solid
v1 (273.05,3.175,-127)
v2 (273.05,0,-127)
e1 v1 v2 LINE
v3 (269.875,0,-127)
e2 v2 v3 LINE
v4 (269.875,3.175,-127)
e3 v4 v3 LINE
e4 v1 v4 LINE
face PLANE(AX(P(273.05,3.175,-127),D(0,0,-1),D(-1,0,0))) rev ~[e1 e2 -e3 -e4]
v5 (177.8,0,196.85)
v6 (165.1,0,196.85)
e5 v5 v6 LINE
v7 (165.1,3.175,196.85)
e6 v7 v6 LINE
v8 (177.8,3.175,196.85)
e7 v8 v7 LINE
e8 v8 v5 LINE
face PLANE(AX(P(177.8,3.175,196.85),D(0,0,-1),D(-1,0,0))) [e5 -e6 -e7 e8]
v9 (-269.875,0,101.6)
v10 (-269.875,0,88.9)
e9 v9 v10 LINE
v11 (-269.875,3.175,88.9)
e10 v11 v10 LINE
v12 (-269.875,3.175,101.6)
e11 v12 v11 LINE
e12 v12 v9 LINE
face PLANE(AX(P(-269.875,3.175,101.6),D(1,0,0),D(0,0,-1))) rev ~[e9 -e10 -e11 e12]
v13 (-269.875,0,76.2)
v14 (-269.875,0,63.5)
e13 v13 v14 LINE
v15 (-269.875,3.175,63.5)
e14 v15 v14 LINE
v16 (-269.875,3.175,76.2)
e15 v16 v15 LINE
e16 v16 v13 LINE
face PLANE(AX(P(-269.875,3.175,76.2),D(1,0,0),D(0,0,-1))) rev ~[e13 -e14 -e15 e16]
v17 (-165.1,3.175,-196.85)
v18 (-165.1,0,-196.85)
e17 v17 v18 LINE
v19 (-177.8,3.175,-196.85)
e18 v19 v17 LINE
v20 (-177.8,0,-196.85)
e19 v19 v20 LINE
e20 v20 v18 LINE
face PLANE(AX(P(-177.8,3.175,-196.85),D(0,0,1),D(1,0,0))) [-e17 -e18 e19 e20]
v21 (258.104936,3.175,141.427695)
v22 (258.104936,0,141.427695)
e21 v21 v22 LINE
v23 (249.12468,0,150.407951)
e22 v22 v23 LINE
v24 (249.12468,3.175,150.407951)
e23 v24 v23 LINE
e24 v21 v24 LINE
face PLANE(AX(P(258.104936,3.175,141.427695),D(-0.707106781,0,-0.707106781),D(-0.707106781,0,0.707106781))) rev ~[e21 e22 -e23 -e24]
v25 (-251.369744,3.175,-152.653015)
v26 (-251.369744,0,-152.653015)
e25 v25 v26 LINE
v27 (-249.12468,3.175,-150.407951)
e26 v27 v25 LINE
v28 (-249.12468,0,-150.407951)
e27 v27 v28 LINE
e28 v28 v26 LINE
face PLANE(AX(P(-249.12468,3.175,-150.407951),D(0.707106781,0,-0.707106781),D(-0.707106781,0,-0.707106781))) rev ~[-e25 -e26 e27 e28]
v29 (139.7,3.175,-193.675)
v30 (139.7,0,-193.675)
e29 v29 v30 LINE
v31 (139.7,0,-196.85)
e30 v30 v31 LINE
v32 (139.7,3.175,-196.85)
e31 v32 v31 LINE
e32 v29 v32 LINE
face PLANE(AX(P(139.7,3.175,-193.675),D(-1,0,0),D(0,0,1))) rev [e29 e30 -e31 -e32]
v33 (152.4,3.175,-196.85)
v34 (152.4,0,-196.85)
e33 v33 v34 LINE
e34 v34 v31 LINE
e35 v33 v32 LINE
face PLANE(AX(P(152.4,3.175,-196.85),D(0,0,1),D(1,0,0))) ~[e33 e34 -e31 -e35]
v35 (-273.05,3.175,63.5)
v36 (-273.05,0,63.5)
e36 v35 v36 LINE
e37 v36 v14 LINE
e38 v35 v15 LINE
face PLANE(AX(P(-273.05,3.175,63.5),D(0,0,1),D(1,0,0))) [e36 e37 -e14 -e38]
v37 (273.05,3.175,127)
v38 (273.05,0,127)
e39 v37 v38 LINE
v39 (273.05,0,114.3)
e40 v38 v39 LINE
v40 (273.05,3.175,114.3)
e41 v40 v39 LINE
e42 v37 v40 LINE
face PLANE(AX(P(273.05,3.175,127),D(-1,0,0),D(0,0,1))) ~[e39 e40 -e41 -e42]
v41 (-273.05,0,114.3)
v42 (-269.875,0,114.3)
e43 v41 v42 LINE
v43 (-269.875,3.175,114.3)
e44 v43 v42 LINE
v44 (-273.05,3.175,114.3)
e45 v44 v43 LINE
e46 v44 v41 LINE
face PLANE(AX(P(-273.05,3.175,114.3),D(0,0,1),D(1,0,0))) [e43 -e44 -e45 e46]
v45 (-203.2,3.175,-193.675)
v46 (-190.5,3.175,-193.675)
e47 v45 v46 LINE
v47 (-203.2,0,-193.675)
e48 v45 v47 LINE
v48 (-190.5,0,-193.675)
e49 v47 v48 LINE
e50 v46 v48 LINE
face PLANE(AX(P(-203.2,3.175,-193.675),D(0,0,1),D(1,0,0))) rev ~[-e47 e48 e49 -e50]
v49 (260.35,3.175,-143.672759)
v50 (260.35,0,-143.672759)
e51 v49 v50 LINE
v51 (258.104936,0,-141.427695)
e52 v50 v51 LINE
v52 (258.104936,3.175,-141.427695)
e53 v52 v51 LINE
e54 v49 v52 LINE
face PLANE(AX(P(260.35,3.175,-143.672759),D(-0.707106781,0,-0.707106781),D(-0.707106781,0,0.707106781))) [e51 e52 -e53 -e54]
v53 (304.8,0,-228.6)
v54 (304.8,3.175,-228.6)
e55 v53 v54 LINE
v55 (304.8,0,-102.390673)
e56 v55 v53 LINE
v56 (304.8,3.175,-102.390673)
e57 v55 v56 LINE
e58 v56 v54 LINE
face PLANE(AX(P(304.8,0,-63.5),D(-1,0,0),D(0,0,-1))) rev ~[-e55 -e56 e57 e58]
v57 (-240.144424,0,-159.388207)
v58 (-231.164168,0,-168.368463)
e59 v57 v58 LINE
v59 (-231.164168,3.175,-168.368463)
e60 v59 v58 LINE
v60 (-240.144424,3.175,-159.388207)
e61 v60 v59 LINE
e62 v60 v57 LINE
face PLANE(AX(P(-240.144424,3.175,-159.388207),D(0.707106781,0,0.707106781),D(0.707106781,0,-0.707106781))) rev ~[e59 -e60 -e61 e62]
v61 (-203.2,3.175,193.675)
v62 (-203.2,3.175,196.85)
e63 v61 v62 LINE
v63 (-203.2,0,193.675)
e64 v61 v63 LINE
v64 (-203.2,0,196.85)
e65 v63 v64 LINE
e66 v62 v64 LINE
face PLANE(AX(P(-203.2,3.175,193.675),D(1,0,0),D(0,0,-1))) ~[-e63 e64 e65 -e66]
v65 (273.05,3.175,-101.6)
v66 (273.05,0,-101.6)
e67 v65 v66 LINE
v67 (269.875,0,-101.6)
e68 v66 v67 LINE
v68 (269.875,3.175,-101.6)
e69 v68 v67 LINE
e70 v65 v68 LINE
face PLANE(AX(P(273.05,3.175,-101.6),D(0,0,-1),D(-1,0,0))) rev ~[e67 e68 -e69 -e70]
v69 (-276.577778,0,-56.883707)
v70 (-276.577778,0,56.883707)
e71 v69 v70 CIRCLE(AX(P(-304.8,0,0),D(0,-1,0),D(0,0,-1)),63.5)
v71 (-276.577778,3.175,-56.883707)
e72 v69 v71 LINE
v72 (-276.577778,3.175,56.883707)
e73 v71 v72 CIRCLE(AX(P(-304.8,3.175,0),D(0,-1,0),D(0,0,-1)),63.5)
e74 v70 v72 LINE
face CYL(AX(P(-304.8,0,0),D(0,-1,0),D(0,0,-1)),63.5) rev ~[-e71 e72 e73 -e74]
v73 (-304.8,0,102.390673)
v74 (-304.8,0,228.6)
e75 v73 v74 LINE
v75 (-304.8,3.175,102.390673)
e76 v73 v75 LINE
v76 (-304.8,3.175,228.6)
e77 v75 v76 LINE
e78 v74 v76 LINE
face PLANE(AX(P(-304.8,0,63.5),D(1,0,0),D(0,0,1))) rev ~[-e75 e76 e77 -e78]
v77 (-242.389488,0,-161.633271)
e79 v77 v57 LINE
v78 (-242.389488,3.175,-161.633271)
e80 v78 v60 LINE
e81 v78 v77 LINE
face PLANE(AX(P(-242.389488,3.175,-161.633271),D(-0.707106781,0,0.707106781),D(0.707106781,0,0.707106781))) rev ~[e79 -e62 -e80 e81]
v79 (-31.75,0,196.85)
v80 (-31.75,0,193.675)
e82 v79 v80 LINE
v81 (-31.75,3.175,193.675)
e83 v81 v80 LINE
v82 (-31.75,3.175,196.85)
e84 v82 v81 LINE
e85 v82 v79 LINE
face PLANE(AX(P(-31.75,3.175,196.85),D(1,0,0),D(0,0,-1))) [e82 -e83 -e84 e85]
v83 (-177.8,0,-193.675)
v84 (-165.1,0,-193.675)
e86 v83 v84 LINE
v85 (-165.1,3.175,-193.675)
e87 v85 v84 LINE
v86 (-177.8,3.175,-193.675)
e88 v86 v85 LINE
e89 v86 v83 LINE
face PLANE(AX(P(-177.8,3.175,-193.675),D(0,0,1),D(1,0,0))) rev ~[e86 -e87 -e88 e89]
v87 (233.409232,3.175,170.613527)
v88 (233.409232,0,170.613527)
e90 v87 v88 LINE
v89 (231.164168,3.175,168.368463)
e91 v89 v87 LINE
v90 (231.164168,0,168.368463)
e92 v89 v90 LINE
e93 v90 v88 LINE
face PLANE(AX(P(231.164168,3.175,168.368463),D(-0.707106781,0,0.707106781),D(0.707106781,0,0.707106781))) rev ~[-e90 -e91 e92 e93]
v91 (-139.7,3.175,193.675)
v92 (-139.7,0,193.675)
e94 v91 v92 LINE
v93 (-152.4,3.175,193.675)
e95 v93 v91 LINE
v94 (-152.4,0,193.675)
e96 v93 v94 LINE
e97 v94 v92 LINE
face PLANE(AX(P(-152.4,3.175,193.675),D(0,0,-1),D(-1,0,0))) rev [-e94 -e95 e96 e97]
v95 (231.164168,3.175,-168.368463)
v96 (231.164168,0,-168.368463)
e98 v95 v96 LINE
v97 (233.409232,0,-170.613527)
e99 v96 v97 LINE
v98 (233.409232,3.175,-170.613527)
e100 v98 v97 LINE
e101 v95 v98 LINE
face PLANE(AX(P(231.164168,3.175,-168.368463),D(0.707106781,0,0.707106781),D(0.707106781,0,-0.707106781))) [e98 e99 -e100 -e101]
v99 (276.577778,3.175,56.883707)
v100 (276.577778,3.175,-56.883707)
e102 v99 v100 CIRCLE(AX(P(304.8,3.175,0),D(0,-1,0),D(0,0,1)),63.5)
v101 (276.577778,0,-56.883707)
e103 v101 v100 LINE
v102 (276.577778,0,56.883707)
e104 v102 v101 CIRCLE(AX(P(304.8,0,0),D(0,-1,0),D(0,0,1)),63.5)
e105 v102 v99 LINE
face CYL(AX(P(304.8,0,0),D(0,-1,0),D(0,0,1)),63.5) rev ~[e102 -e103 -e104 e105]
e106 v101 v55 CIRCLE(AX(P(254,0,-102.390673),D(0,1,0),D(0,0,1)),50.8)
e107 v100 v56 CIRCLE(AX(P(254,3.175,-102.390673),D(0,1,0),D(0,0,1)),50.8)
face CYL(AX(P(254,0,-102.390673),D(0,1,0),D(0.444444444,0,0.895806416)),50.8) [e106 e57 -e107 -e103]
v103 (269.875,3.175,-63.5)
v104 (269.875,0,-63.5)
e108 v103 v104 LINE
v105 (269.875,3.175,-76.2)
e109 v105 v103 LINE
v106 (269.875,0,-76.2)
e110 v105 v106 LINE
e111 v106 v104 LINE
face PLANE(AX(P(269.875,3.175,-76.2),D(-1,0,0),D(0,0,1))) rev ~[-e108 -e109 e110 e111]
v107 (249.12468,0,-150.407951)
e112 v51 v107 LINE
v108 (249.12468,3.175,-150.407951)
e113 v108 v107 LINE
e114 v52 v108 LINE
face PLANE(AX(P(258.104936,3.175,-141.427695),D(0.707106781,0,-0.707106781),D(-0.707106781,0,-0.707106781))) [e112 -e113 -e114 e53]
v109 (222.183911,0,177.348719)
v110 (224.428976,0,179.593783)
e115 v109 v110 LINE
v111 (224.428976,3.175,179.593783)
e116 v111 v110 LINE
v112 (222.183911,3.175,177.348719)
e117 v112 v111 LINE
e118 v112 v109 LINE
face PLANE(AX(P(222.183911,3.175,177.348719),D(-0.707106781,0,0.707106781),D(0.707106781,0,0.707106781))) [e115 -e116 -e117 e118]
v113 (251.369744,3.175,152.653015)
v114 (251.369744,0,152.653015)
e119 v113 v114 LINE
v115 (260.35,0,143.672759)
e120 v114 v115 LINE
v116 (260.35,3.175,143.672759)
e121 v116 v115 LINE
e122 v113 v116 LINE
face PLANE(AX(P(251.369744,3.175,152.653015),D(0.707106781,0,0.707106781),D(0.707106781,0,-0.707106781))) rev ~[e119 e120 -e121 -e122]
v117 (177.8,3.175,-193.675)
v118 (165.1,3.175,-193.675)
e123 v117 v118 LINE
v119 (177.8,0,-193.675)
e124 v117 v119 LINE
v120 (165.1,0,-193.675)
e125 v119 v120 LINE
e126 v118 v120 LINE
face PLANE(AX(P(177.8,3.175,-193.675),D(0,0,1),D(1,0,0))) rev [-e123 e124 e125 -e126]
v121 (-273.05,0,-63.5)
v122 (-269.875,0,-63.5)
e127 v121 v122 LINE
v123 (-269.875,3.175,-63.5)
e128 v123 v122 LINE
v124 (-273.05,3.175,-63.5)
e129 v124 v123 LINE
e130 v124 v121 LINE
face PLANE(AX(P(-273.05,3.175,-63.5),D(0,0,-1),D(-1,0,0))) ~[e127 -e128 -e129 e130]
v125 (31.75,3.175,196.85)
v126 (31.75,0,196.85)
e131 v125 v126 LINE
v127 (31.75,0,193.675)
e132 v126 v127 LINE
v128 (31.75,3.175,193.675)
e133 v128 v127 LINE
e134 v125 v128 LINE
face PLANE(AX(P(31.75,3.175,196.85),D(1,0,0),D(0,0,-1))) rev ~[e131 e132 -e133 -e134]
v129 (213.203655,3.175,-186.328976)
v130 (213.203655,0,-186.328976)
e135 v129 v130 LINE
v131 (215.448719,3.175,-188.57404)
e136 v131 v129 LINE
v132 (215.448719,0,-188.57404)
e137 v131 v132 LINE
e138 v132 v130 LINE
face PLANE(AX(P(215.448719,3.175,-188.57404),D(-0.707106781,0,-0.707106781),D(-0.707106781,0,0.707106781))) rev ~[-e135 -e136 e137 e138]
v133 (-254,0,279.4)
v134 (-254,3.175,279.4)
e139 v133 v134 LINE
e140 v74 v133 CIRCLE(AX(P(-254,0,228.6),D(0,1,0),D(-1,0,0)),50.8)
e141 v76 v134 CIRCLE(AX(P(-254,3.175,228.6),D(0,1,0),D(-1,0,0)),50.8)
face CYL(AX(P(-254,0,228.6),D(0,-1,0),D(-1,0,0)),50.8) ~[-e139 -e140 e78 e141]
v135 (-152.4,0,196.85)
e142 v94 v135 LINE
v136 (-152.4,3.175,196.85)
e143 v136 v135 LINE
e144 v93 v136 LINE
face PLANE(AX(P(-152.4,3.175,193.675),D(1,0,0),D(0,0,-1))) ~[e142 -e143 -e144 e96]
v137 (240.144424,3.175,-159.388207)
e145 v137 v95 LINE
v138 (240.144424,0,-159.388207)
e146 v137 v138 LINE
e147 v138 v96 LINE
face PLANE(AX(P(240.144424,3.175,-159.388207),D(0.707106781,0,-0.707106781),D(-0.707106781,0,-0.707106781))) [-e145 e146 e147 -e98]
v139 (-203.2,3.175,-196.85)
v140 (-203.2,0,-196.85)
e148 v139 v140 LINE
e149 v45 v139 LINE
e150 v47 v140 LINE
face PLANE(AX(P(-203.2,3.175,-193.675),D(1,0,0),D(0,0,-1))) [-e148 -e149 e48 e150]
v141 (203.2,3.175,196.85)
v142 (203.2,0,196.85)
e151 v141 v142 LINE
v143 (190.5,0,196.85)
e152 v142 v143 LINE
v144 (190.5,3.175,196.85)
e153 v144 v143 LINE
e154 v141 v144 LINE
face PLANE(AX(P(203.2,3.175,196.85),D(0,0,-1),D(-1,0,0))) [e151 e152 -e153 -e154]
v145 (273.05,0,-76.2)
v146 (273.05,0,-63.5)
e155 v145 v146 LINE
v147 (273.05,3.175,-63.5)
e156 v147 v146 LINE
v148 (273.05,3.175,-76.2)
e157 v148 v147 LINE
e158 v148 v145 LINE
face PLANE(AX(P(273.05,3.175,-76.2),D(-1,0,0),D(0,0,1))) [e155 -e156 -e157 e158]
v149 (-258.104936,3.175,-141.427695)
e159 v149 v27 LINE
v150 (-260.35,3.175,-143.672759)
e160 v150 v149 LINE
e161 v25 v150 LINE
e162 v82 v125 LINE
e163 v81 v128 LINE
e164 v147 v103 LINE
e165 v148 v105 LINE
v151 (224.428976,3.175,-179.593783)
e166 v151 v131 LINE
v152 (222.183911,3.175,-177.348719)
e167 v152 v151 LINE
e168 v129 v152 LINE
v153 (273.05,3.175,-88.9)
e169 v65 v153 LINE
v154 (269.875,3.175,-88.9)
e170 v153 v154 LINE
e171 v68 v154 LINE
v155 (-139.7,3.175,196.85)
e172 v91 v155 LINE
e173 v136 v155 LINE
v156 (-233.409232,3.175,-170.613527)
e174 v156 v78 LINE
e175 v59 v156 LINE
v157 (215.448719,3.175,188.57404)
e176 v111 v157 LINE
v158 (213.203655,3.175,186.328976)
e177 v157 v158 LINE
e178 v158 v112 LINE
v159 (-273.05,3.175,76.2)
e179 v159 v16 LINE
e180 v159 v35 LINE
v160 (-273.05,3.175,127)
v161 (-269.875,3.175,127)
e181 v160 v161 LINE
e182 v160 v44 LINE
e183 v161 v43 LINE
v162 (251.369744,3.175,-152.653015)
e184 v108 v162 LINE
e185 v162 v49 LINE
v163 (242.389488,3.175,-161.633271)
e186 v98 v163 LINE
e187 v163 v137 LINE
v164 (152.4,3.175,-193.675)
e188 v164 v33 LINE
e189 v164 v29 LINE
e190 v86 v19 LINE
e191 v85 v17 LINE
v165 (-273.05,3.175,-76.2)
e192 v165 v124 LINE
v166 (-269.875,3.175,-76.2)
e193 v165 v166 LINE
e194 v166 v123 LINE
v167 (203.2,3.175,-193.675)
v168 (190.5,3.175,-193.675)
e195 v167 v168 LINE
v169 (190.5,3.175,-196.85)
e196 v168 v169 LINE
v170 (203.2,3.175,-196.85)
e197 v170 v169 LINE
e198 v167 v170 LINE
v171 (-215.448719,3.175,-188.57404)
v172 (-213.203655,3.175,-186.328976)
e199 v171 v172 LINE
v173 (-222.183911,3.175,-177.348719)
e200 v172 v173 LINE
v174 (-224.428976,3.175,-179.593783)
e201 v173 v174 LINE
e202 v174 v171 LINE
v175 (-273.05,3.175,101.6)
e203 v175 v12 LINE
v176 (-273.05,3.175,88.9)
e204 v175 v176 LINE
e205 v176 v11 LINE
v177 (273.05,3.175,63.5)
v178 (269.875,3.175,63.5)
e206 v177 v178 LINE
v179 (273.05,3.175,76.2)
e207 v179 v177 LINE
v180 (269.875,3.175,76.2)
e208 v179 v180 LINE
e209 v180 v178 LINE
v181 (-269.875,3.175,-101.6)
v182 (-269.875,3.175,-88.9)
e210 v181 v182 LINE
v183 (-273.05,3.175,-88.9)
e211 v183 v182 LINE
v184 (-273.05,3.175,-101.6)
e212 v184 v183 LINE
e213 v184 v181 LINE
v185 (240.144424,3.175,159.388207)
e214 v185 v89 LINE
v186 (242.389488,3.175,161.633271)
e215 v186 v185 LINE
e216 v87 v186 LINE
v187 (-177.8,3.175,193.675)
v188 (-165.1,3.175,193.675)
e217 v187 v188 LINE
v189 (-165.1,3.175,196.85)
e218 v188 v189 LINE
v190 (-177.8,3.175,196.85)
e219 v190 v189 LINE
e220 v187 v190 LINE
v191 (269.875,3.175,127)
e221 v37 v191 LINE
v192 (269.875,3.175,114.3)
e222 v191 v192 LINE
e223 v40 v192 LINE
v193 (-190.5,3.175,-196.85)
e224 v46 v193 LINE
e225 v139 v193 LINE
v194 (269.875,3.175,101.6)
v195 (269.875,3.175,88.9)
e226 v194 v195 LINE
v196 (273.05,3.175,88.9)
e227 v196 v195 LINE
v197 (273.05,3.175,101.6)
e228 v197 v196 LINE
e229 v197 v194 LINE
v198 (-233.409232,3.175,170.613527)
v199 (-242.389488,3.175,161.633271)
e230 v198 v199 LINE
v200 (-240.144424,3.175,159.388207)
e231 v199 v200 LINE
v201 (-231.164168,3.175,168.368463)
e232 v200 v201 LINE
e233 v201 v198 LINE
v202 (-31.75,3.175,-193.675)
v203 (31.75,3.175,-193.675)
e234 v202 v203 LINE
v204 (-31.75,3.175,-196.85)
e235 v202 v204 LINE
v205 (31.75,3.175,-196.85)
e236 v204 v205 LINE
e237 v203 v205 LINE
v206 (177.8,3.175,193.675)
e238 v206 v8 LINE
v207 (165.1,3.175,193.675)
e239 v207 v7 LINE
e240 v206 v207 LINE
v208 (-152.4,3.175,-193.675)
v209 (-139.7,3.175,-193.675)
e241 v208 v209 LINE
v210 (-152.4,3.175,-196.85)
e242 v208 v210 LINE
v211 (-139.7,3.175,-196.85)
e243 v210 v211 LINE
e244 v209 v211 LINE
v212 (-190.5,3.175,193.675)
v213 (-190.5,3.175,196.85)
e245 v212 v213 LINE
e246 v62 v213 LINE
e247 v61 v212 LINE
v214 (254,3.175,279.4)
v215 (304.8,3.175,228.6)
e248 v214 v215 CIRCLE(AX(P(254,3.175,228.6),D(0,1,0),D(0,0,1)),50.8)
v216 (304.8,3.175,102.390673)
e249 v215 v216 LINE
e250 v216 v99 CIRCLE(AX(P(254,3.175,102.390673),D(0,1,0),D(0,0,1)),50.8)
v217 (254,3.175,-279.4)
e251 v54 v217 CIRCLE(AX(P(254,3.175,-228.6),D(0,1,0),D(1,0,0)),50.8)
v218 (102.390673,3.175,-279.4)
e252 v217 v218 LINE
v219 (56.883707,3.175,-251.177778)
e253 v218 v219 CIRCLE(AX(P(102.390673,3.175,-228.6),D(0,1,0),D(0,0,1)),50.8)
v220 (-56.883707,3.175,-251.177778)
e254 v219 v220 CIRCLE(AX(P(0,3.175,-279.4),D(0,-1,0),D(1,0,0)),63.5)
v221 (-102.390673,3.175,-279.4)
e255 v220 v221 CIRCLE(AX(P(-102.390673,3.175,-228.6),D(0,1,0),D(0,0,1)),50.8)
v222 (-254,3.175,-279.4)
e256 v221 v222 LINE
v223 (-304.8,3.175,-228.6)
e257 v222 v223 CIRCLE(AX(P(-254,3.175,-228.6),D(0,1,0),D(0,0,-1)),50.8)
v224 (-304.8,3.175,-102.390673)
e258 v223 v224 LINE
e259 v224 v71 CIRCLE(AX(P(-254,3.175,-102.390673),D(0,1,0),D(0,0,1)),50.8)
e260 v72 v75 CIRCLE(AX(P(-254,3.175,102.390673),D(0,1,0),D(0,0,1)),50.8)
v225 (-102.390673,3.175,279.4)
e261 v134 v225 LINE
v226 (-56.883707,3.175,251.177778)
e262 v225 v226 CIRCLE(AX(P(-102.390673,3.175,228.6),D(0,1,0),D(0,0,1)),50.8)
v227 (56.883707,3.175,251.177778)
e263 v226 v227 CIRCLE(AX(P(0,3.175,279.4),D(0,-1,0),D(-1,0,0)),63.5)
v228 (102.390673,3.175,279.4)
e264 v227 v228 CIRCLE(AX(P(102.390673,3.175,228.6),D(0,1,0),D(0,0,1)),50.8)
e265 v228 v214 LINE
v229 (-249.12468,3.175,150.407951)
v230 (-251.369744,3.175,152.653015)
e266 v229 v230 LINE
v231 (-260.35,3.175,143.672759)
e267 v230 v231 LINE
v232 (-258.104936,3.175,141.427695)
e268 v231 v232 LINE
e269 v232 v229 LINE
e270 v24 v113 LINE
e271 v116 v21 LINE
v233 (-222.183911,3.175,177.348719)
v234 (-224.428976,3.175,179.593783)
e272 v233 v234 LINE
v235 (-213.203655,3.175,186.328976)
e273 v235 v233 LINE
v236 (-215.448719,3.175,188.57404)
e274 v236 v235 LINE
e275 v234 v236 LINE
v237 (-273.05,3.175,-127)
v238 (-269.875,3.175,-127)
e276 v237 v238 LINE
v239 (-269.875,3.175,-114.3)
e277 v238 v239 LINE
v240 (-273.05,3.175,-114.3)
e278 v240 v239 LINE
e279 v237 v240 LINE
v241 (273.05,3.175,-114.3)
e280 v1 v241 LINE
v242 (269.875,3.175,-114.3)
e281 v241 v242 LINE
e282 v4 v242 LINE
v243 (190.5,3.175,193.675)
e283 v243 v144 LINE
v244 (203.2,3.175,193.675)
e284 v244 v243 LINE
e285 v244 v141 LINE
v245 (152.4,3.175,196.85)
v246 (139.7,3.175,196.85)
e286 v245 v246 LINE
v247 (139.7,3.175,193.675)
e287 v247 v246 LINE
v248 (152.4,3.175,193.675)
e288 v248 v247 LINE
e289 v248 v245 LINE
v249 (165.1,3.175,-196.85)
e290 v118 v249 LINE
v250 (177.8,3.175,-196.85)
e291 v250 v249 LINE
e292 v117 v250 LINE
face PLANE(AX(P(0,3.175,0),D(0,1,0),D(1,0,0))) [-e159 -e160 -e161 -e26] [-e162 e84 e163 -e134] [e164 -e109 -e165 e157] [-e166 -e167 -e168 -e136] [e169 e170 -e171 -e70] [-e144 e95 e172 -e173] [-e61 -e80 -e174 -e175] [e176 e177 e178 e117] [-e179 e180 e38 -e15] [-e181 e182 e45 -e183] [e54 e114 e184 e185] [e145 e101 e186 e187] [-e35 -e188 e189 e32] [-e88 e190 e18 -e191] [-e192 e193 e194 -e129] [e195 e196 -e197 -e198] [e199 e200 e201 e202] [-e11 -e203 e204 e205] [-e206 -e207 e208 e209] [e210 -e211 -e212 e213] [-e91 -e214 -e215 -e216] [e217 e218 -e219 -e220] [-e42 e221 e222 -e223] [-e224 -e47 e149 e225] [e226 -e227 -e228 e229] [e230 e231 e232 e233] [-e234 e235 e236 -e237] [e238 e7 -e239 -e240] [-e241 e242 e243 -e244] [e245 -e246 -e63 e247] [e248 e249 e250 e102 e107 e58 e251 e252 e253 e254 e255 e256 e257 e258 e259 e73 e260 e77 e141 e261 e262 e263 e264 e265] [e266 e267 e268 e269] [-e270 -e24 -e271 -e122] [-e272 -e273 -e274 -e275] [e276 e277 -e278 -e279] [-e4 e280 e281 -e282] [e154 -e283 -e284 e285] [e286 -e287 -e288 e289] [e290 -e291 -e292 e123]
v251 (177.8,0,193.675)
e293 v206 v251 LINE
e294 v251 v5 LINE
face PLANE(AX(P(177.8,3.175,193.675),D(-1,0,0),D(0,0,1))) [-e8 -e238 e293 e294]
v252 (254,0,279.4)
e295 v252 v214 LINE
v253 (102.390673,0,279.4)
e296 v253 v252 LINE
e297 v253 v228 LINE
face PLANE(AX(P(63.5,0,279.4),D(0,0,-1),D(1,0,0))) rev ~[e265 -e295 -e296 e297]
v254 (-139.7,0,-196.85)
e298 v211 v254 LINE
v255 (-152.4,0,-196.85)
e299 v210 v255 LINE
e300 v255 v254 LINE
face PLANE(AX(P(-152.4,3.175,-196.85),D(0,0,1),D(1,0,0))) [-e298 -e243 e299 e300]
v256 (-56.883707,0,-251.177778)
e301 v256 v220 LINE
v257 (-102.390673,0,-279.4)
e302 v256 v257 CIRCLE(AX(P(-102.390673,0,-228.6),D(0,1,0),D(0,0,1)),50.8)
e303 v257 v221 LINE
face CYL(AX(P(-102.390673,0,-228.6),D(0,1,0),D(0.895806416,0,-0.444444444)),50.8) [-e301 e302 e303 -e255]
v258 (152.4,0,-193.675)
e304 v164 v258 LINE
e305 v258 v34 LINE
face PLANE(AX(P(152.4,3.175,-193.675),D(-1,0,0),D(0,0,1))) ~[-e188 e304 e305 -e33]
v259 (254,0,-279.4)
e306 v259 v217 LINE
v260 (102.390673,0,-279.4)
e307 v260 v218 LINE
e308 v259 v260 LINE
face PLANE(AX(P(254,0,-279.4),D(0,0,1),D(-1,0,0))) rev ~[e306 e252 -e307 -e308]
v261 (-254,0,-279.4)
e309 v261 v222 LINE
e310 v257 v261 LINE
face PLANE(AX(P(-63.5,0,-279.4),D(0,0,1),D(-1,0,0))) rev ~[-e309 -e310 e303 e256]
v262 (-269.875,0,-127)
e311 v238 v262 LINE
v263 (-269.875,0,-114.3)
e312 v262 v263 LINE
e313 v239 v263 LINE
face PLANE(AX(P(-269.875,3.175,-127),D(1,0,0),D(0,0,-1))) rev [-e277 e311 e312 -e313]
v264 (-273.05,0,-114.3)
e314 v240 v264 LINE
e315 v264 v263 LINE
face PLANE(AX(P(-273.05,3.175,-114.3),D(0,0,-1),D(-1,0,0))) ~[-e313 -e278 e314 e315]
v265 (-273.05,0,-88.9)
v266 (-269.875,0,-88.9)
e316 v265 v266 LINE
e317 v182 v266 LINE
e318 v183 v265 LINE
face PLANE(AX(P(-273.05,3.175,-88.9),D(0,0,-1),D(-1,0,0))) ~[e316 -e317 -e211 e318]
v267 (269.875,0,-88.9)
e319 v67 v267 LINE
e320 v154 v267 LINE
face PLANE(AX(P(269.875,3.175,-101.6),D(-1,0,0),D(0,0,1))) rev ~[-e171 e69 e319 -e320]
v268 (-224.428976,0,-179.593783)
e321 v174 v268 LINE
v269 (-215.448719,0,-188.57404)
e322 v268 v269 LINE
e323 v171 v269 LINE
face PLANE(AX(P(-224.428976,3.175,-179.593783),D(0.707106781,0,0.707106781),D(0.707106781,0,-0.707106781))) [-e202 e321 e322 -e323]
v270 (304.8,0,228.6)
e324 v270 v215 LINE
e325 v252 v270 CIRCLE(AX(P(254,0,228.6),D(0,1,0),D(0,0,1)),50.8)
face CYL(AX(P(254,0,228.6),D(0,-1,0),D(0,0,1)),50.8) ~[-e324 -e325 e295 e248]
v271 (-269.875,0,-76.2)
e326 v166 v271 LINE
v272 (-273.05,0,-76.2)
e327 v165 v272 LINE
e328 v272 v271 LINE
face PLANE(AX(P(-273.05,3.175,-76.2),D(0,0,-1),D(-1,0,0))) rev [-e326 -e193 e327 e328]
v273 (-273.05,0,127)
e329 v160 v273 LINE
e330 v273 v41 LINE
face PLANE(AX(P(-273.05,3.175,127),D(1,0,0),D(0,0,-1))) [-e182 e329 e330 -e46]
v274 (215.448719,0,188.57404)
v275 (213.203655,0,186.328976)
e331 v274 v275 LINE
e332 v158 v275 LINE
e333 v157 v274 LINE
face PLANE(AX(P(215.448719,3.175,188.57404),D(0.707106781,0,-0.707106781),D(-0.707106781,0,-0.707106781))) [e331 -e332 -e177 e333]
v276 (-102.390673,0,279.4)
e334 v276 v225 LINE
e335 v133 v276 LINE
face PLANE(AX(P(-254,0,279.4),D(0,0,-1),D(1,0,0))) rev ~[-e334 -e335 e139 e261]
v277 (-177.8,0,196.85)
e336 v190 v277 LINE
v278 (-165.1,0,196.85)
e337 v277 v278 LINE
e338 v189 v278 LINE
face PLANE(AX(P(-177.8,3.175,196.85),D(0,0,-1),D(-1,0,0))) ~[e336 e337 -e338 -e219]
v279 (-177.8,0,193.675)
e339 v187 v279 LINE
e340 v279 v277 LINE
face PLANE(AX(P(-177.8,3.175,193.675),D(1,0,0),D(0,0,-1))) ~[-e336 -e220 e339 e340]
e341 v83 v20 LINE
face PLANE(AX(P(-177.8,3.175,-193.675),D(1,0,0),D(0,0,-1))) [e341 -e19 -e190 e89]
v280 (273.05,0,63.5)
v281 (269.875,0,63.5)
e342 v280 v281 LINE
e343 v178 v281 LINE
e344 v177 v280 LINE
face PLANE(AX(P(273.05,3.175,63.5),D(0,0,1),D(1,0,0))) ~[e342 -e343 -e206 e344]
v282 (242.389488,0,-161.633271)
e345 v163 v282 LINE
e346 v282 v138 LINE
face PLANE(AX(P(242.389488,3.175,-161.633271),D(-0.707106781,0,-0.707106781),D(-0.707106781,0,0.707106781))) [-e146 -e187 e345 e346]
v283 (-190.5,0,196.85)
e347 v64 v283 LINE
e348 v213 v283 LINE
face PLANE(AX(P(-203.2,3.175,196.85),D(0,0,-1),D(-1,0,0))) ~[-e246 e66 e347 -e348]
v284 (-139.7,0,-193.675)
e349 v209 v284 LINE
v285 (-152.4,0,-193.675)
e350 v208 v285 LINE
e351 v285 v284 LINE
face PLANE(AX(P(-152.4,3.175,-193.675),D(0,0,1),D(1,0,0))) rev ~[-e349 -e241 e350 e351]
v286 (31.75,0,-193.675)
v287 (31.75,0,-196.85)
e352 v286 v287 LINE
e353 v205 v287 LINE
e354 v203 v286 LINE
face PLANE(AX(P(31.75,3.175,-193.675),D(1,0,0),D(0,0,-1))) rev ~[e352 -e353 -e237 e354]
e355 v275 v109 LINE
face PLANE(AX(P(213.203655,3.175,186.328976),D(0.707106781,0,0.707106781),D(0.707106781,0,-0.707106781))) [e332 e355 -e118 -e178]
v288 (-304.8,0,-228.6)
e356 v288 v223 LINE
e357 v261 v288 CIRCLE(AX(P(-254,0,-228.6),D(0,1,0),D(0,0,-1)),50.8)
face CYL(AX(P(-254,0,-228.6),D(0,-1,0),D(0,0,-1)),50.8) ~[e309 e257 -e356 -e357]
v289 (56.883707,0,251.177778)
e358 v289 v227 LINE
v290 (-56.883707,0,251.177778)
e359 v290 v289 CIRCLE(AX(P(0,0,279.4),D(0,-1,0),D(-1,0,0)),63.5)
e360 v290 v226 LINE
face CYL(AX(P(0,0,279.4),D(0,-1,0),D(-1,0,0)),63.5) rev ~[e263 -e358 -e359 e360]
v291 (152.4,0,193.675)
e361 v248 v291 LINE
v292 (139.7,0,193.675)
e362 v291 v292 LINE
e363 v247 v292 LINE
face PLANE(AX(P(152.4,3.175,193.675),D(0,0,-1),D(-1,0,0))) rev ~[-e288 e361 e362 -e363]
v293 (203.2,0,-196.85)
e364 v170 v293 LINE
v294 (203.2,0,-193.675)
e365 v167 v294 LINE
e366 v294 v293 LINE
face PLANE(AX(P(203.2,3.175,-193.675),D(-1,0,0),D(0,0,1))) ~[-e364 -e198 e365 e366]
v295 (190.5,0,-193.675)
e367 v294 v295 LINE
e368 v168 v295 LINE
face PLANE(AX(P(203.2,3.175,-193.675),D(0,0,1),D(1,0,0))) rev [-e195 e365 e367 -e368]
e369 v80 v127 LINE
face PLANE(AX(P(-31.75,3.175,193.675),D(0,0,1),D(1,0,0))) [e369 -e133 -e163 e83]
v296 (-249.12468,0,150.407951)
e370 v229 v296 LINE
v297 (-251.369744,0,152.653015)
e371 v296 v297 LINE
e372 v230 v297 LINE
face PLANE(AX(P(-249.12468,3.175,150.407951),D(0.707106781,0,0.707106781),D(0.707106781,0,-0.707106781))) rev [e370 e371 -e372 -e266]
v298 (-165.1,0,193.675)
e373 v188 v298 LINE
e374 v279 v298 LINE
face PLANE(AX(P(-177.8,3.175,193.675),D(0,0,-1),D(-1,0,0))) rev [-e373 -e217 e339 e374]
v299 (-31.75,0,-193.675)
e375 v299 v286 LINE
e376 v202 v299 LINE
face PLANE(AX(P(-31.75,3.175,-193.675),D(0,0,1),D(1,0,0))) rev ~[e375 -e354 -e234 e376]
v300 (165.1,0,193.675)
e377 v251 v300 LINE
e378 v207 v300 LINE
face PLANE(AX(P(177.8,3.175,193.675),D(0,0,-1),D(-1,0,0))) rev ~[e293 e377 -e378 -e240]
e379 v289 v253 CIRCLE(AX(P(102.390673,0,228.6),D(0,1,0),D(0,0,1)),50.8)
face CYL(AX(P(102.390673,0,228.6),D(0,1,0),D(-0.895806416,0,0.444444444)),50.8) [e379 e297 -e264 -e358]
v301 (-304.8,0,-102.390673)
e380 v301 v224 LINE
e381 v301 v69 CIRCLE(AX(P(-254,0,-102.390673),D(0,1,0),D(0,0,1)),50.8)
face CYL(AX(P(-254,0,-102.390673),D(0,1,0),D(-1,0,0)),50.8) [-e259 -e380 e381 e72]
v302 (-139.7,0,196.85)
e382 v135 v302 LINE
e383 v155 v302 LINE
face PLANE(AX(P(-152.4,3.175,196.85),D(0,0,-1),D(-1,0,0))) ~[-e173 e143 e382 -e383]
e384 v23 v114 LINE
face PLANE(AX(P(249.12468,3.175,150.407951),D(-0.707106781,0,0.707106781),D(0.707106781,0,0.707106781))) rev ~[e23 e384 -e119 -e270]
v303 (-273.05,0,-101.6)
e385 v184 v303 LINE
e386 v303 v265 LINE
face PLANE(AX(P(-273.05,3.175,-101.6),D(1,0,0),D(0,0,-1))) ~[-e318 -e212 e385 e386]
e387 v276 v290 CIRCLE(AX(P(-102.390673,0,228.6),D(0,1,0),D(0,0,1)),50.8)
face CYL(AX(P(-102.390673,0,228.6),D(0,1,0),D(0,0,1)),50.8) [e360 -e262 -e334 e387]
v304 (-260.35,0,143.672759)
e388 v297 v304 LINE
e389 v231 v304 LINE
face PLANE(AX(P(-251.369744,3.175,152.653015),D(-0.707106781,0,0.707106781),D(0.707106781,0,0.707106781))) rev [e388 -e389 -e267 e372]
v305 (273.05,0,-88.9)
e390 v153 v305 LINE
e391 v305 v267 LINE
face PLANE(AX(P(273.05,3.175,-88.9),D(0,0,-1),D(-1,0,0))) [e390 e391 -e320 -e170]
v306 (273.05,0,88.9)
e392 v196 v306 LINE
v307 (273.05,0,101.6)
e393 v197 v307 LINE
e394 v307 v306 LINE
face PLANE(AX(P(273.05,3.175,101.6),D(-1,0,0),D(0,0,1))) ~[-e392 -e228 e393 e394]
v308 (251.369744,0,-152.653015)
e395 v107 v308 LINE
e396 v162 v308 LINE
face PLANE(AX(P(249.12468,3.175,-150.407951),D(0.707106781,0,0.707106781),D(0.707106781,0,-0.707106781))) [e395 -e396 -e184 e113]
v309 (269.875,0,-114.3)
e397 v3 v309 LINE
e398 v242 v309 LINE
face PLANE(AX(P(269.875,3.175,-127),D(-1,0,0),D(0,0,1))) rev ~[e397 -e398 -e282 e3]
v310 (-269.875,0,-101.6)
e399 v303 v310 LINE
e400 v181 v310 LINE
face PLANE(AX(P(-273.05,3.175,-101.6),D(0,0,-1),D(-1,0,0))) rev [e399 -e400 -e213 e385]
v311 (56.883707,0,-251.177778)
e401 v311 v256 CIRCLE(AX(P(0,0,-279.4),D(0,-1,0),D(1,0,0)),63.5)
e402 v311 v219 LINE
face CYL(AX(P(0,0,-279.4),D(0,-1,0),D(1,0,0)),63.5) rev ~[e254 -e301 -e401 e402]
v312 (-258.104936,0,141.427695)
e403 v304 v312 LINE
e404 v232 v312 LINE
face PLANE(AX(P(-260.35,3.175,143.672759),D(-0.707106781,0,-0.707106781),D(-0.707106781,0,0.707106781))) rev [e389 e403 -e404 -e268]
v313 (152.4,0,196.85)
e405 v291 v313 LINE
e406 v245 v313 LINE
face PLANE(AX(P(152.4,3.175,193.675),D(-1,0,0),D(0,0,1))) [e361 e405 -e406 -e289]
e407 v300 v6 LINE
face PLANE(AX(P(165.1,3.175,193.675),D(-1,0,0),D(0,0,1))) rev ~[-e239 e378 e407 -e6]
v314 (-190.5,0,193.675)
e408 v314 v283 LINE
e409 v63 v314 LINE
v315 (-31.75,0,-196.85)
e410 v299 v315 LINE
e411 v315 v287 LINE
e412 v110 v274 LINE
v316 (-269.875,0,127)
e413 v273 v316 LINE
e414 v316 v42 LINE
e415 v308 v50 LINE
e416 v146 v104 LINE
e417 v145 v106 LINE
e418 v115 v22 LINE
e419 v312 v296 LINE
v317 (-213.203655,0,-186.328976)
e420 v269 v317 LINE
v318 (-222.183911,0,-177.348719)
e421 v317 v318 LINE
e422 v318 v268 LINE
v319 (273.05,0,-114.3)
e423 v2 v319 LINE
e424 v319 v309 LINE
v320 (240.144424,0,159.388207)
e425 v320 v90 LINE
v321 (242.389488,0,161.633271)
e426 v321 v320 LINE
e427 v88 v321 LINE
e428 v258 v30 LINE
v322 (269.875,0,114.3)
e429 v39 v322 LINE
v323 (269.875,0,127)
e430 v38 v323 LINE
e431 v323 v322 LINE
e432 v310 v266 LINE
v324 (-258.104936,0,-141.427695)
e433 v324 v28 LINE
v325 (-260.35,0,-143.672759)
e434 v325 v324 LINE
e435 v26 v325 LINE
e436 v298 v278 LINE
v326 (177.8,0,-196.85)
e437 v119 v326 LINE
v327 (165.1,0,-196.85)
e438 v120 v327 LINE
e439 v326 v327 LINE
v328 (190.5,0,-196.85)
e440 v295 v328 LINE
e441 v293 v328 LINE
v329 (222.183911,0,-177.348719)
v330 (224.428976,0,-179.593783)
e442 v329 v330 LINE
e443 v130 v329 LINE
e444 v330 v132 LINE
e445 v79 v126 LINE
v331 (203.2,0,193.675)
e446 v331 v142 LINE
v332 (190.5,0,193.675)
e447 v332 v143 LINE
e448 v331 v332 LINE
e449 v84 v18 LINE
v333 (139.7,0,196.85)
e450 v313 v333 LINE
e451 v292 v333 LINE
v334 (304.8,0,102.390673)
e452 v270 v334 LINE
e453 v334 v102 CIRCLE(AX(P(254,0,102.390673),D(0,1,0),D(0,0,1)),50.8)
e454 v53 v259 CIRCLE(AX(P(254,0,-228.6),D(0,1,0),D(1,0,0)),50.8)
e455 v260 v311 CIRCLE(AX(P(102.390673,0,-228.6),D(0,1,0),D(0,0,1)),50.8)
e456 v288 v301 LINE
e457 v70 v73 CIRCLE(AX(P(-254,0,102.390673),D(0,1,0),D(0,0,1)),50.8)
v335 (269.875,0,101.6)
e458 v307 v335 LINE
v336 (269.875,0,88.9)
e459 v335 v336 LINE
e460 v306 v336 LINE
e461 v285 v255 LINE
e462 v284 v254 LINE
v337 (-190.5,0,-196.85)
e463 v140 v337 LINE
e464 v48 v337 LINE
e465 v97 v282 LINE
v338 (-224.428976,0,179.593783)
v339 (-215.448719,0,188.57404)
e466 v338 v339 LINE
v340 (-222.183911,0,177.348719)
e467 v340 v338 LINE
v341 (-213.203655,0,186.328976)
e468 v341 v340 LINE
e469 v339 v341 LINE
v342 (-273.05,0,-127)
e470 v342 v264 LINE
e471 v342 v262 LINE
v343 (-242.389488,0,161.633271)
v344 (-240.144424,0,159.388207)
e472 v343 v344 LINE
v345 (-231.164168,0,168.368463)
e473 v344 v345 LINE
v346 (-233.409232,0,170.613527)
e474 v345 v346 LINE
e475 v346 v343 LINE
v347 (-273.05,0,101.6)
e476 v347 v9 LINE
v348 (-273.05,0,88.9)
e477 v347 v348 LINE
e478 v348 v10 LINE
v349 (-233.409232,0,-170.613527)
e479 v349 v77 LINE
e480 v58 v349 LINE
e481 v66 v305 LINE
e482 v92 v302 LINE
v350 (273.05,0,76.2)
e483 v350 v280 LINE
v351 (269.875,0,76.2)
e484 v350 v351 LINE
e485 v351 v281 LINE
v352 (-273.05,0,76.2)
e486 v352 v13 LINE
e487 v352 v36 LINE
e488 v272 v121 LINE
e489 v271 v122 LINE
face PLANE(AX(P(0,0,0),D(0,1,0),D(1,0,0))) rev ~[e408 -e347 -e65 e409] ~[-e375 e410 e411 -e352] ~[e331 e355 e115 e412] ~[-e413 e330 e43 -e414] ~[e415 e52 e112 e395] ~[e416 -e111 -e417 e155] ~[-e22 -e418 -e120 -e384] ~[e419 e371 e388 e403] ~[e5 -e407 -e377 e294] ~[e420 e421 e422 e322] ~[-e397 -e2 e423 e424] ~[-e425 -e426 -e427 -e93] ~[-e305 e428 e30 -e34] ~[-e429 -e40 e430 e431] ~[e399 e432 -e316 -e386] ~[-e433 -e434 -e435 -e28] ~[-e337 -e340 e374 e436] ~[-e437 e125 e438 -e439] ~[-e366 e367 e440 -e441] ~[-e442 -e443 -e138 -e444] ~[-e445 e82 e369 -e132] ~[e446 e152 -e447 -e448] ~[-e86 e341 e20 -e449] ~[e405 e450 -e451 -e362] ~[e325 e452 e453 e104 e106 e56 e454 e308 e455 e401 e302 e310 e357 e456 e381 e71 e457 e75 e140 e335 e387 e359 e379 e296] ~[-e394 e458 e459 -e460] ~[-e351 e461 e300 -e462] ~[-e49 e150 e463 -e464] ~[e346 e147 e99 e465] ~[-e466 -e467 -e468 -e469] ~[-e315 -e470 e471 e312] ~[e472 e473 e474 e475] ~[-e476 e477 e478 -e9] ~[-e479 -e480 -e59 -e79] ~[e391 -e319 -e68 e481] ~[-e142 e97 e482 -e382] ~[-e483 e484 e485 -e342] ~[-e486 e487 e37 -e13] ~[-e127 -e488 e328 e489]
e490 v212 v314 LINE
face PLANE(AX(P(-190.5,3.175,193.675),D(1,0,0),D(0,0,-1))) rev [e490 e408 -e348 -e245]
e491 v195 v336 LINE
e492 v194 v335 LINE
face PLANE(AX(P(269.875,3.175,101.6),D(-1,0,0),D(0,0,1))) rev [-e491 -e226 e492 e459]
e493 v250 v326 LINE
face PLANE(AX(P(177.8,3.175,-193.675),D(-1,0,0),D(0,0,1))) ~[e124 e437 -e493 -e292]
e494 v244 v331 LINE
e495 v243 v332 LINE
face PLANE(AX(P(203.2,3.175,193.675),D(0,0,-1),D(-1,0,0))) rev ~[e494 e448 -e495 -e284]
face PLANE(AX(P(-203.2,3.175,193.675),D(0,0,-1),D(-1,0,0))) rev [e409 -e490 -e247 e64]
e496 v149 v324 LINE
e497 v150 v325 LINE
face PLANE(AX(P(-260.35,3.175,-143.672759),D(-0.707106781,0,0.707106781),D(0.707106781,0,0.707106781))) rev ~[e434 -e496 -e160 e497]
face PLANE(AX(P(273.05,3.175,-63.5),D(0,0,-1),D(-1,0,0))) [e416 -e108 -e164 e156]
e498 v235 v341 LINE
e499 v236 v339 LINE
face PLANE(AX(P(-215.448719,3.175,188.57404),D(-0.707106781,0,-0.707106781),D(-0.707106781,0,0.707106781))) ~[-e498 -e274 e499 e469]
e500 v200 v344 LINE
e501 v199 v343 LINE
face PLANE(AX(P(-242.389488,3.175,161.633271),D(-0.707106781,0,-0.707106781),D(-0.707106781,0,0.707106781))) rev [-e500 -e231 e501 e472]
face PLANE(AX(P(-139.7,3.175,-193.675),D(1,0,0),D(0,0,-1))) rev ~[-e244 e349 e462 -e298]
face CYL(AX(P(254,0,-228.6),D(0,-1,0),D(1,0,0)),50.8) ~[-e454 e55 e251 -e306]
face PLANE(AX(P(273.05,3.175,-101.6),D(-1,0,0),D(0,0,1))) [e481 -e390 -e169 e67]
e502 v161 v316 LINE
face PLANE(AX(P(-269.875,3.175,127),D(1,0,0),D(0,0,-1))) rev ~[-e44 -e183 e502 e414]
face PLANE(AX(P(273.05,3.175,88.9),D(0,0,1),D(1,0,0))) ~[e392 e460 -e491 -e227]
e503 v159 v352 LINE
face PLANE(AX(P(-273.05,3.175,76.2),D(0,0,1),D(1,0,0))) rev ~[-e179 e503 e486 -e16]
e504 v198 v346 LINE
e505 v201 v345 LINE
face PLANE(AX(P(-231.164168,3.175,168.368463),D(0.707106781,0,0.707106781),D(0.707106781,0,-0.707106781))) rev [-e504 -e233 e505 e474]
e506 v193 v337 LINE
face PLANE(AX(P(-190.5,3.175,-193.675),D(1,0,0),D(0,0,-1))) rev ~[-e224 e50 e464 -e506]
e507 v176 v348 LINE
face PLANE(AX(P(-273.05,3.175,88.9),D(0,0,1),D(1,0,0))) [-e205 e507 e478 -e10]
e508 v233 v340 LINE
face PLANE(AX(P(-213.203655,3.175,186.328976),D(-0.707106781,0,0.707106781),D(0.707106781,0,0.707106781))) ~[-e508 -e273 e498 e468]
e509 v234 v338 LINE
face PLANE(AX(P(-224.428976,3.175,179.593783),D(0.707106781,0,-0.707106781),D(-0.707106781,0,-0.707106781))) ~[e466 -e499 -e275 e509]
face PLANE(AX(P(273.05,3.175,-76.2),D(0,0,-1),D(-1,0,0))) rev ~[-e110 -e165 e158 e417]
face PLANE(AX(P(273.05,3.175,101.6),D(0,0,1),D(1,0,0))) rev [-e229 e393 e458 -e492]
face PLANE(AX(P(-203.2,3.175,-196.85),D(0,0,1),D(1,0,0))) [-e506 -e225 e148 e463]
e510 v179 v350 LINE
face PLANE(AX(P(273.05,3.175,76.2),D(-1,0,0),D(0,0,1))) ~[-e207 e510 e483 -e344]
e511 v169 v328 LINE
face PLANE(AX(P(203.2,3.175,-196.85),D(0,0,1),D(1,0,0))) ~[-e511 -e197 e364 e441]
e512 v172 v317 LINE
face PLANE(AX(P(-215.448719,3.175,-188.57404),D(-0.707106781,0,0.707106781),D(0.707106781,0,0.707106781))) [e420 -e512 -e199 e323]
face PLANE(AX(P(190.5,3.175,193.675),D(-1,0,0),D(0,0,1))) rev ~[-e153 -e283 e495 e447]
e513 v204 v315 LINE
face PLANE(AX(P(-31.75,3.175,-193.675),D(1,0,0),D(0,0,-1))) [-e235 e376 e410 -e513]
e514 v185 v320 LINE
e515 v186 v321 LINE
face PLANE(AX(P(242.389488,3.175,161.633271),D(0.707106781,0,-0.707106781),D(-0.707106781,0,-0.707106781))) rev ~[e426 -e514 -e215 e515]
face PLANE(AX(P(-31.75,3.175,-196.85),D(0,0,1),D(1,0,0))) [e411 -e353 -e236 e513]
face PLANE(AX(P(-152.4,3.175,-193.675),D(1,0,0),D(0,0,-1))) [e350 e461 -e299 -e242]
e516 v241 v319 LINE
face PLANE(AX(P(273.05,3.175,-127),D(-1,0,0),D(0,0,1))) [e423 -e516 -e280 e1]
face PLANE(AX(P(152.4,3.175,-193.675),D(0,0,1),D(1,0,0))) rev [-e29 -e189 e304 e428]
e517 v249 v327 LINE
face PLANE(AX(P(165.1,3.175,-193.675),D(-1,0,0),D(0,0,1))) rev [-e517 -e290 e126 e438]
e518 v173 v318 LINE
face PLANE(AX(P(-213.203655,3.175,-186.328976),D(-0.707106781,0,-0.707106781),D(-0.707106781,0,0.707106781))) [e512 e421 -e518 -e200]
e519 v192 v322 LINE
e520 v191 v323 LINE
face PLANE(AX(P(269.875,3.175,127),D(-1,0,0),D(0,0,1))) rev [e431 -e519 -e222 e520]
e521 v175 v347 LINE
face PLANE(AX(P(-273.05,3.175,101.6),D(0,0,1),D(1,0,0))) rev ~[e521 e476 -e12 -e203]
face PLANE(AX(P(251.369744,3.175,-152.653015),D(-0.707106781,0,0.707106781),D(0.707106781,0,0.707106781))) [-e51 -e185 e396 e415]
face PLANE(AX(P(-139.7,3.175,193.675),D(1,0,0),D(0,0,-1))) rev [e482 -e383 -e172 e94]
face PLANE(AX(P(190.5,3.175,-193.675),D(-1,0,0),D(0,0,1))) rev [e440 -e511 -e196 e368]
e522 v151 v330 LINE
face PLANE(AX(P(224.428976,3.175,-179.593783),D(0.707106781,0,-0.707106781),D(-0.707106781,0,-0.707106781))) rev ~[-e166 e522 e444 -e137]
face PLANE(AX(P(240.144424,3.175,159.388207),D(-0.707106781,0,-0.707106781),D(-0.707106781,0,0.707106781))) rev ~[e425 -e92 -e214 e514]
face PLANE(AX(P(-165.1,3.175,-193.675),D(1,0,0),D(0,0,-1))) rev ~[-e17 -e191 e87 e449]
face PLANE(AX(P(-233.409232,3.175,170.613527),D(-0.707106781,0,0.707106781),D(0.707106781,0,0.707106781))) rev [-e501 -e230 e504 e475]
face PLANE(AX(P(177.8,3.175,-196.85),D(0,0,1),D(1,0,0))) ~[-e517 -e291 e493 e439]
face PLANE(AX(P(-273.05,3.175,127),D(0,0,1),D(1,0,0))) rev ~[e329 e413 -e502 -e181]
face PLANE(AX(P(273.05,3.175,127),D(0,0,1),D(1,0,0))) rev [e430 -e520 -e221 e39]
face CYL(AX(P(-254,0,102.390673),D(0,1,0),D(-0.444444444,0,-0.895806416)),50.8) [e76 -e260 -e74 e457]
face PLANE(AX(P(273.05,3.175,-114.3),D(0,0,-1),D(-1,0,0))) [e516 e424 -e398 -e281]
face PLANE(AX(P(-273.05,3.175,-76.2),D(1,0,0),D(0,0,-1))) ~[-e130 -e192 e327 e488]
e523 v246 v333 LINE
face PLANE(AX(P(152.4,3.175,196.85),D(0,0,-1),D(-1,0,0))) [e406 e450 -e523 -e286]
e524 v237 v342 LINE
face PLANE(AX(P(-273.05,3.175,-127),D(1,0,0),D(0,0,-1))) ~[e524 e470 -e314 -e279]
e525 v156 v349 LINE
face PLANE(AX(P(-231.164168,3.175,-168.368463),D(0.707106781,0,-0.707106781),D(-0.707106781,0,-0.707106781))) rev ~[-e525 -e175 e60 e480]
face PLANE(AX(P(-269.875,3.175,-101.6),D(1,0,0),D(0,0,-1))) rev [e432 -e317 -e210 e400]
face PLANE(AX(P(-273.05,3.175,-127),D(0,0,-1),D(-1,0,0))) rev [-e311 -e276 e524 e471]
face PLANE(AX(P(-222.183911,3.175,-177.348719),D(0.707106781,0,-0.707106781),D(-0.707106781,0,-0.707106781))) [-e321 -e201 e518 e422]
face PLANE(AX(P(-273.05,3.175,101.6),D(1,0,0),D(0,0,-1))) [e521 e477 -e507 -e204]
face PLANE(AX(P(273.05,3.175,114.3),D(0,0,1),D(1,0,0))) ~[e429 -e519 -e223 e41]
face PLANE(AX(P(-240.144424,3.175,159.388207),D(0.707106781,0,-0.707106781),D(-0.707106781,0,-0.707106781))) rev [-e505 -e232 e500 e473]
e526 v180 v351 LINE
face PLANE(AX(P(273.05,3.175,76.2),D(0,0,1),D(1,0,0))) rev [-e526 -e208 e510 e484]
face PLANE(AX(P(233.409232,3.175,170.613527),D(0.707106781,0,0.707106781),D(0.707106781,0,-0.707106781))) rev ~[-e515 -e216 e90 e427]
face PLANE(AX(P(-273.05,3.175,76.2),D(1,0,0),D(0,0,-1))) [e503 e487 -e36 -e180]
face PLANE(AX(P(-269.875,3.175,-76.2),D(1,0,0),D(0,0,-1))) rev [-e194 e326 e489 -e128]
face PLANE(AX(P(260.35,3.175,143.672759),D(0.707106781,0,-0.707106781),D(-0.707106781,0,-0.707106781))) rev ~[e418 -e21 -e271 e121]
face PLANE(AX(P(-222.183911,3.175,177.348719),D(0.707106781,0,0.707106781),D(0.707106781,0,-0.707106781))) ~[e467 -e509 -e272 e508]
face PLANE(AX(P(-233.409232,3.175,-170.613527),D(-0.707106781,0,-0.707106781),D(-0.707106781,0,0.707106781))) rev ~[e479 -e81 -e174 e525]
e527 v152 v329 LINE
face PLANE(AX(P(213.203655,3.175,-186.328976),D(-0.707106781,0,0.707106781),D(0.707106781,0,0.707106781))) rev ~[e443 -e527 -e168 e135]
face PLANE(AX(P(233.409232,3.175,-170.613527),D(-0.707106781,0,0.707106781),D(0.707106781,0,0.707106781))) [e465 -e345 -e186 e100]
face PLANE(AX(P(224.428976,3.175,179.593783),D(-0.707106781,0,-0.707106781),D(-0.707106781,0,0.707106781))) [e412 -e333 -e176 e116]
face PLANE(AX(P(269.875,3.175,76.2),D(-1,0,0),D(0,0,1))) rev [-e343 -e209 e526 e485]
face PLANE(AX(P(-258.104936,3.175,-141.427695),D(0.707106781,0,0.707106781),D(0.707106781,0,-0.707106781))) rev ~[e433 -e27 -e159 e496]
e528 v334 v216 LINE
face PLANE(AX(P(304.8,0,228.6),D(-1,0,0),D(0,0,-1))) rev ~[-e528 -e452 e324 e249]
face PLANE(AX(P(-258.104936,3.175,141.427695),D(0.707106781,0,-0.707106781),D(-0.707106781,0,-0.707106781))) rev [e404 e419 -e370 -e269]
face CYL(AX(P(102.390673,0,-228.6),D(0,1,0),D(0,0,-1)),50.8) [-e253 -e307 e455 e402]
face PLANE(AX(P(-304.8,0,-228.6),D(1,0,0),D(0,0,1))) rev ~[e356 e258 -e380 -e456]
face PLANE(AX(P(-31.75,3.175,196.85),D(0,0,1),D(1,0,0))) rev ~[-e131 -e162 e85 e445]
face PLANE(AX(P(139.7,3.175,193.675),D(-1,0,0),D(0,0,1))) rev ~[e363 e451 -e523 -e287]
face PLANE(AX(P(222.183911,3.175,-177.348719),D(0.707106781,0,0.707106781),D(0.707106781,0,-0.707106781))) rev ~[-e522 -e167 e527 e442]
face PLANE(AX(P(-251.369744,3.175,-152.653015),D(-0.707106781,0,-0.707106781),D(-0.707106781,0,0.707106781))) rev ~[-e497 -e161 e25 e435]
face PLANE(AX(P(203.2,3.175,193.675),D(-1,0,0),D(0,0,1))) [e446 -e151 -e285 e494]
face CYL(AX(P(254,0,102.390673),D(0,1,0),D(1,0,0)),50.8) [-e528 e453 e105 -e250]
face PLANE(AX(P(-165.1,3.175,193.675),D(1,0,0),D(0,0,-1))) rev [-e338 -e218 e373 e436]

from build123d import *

# Parameters (mm, degrees)
BOSS_EXTRUDE1_DEPTH     = 3.175
FILLET1_R               = 50.8
SKETCH2_W               = 12.7
SKETCH2_H               = 3.175
CUT_EXTRUDE1_DEPTH      = 3.175
MIRROR2_COPY_1_SKETCH_W = 12.7
MIRROR2_COPY_1_SKETCH_H = 3.175
MIRROR2_COPY_1_DEPTH    = 3.175
CUT_EXTRUDE2_DEPTH      = 3.175
SKETCH4_W               = 63.5
SKETCH4_H               = 3.175
CUT_EXTRUDE3_DEPTH      = 3.175
MIRROR5_COPY_1_DEPTH    = 3.175
MIRROR5_COPY_2_DEPTH    = 3.175
SKETCH5_W               = 3.175
SKETCH5_H               = 12.7
CUT_EXTRUDE4_DEPTH      = 3.175
MIRROR7_COPY_1_SKETCH_W = 3.175
MIRROR7_COPY_1_SKETCH_H = 12.7
MIRROR7_COPY_1_DEPTH    = 3.175


with BuildPart() as part:
    # Sketch1 → Boss-Extrude1 (new body)
    with BuildSketch(Plane(origin=(0, 0, 0), x_dir=(1, 0, 0), z_dir=(0, 1, 0))):
        with BuildLine():
            ThreePointArc((-304.8, -228.6), (-289.921024484, -264.521024484), (-254, -279.4))
            Line((-254, -279.4), (-63.5, -279.4))
            ThreePointArc((-63.5, -279.4), (0, -215.9), (63.5, -279.4))
            Line((63.5, -279.4), (254, -279.4))
            ThreePointArc((254, -279.4), (289.921024484, -264.521024484), (304.8, -228.6))
            Line((304.8, -228.6), (304.8, -63.5))
            ThreePointArc((304.8, -63.5), (241.3, 0), (304.8, 63.5))
            Line((304.8, 63.5), (304.8, 228.6))
            ThreePointArc((304.8, 228.6), (289.921024484, 264.521024484), (254, 279.4))
            Line((254, 279.4), (63.5, 279.4))
            ThreePointArc((63.5, 279.4), (0, 215.9), (-63.5, 279.4))
            Line((-63.5, 279.4), (-254, 279.4))
            ThreePointArc((-254, 279.4), (-289.921024484, 264.521024484), (-304.8, 228.6))
            Line((-304.8, 228.6), (-304.8, 63.5))
            ThreePointArc((-304.8, 63.5), (-241.3, 0), (-304.8, -63.5))
            Line((-304.8, -63.5), (-304.8, -228.6))
        make_face()
    extrude(amount=BOSS_EXTRUDE1_DEPTH)

    # Fillet1
    fillet1_edges = [part.edges().sort_by_distance(p)[0] for p in [
        (-63.5, 1.5875, -279.4),
        (63.5, 1.5875, -279.4),
        (304.8, 1.5875, -63.5),
        (304.8, 1.5875, 63.5),
        (63.5, 1.5875, 279.4),
        (-63.5, 1.5875, 279.4),
        (-304.8, 1.5875, 63.5),
        (-304.8, 1.5875, -63.5),
    ]]
    fillet(fillet1_edges, radius=FILLET1_R)

    # Sketch2 → Cut-Extrude1 (cut)
    with BuildSketch(Plane(origin=(0, 3.175, 0), x_dir=(1, 0, 0), z_dir=(0, 1, 0))):
        with Locations((-171.45, 195.2625)):
            Rectangle(SKETCH2_W, SKETCH2_H)
        with Locations((-196.85, 195.2625)):
            Rectangle(SKETCH2_W, SKETCH2_H)
        with Locations((-146.05, 195.2625)):
            Rectangle(SKETCH2_W, SKETCH2_H)
    cut_extrude1 = extrude(amount=-CUT_EXTRUDE1_DEPTH, mode=Mode.SUBTRACT)

    # Mirror1: Cut-Extrude1 across plane
    add(cut_extrude1.mirror(Plane.XY), mode=Mode.SUBTRACT)

    # Mirror2: Cut-Extrude1 across plane
    add(cut_extrude1.mirror(Plane(origin=(0, 0, 0), x_dir=(0, 0, 1), z_dir=(1, 0, 0))), mode=Mode.SUBTRACT)

    # Mirror2 copy 1 sketch → Mirror2 copy 1 (cut)
    with BuildSketch(Plane(origin=(0, 3.175, 0), x_dir=(-1, 0, 0), z_dir=(0, 1, 0))):
        with Locations((-171.45, 195.2625)):
            Rectangle(MIRROR2_COPY_1_SKETCH_W, MIRROR2_COPY_1_SKETCH_H)
        with Locations((-196.85, 195.2625)):
            Rectangle(MIRROR2_COPY_1_SKETCH_W, MIRROR2_COPY_1_SKETCH_H)
        with Locations((-146.05, 195.2625)):
            Rectangle(MIRROR2_COPY_1_SKETCH_W, MIRROR2_COPY_1_SKETCH_H)
    extrude(amount=-MIRROR2_COPY_1_DEPTH, mode=Mode.SUBTRACT)

    # Sketch3 → Cut-Extrude2 (cut)
    with BuildSketch(Plane(origin=(0, 3.175, 0), x_dir=(1, 0, 0), z_dir=(0, 1, 0))):
        Polygon((-251.369743879, 152.653015062), (-260.35, 143.672758941), (-258.10493597, 141.42769491), (-249.124679849, 150.407951031), align=None)
        Polygon((-233.409231637, 170.613527304), (-242.389487758, 161.633271183), (-240.144423728, 159.388207153), (-231.164167607, 168.368463274), align=None)
        Polygon((-213.203655364, 186.328975516), (-222.183911485, 177.348719395), (-224.428975516, 179.593783425), (-215.448719395, 188.574039546), align=None)
    cut_extrude2 = extrude(amount=-CUT_EXTRUDE2_DEPTH, mode=Mode.SUBTRACT)

    # Sketch4 → Cut-Extrude3 (cut)
    with BuildSketch(Plane(origin=(0, 3.175, 0), x_dir=(1, 0, 0), z_dir=(0, 1, 0))):
        with Locations((0, 195.2625)):
            Rectangle(SKETCH4_W, SKETCH4_H)
        with Locations((0, -195.2625)):
            Rectangle(SKETCH4_W, SKETCH4_H)
    cut_extrude3 = extrude(amount=-CUT_EXTRUDE3_DEPTH, mode=Mode.SUBTRACT)

    # Mirror4: Cut-Extrude2 across plane
    add(cut_extrude2.mirror(Plane.XY), mode=Mode.SUBTRACT)

    # Mirror5: Cut-Extrude3 across plane
    add(cut_extrude3.mirror(Plane(origin=(0, 0, 0), x_dir=(0, 0, 1), z_dir=(1, 0, 0))), mode=Mode.SUBTRACT)

    # Mirror5 copy 1 sketch → Mirror5 copy 1 (cut)
    with BuildSketch(Plane(origin=(0, 3.175, 0), x_dir=(-1, 0, 0), z_dir=(0, 1, 0))):
        Polygon((-251.369743879, 152.653015062), (-260.35, 143.672758941), (-258.10493597, 141.42769491), (-249.124679849, 150.407951031), align=None)
        Polygon((-233.409231637, 170.613527304), (-242.389487758, 161.633271183), (-240.144423728, 159.388207153), (-231.164167607, 168.368463274), align=None)
        Polygon((-213.203655364, 186.328975516), (-222.183911485, 177.348719395), (-224.428975516, 179.593783425), (-215.448719395, 188.574039546), align=None)
    extrude(amount=-MIRROR5_COPY_1_DEPTH, mode=Mode.SUBTRACT)

    # Mirror5 copy 2 sketch → Mirror5 copy 2 (cut)
    with BuildSketch(Plane(origin=(0, 3.175, 0), x_dir=(-1, 0, 0), z_dir=(0, 1, 0))):
        Polygon((-251.369743879, -152.653015062), (-260.35, -143.672758941), (-258.10493597, -141.42769491), (-249.124679849, -150.407951031), align=None)
        Polygon((-233.409231637, -170.613527304), (-242.389487758, -161.633271183), (-240.144423728, -159.388207153), (-231.164167607, -168.368463274), align=None)
        Polygon((-213.203655364, -186.328975516), (-222.183911485, -177.348719395), (-224.428975516, -179.593783425), (-215.448719395, -188.574039546), align=None)
    extrude(amount=-MIRROR5_COPY_2_DEPTH, mode=Mode.SUBTRACT)

    # Sketch5 → Cut-Extrude4 (cut)
    with BuildSketch(Plane(origin=(0, 3.175, 0), x_dir=(1, 0, 0), z_dir=(0, 1, 0))):
        with Locations((-271.4625, -95.25)):
            Rectangle(SKETCH5_W, SKETCH5_H)
        with Locations((-271.4625, -69.85)):
            Rectangle(SKETCH5_W, SKETCH5_H)
        with Locations((-271.4625, -120.65)):
            Rectangle(SKETCH5_W, SKETCH5_H)
    cut_extrude4 = extrude(amount=-CUT_EXTRUDE4_DEPTH, mode=Mode.SUBTRACT)

    # Mirror6: Cut-Extrude4 across plane
    add(cut_extrude4.mirror(Plane(origin=(0, 0, 0), x_dir=(0, 0, 1), z_dir=(1, 0, 0))), mode=Mode.SUBTRACT)

    # Mirror7: Cut-Extrude4 across plane
    add(cut_extrude4.mirror(Plane.XY), mode=Mode.SUBTRACT)

    # Mirror7 copy 1 sketch → Mirror7 copy 1 (cut)
    with BuildSketch(Plane(origin=(0, 3.175, 0), x_dir=(-1, 0, 0), z_dir=(0, 1, 0))):
        with Locations((-271.4625, -95.25)):
            Rectangle(MIRROR7_COPY_1_SKETCH_W, MIRROR7_COPY_1_SKETCH_H)
        with Locations((-271.4625, -69.85)):
            Rectangle(MIRROR7_COPY_1_SKETCH_W, MIRROR7_COPY_1_SKETCH_H)
        with Locations((-271.4625, -120.65)):
            Rectangle(MIRROR7_COPY_1_SKETCH_W, MIRROR7_COPY_1_SKETCH_H)
    extrude(amount=-MIRROR7_COPY_1_DEPTH, mode=Mode.SUBTRACT)


solid = part.part
